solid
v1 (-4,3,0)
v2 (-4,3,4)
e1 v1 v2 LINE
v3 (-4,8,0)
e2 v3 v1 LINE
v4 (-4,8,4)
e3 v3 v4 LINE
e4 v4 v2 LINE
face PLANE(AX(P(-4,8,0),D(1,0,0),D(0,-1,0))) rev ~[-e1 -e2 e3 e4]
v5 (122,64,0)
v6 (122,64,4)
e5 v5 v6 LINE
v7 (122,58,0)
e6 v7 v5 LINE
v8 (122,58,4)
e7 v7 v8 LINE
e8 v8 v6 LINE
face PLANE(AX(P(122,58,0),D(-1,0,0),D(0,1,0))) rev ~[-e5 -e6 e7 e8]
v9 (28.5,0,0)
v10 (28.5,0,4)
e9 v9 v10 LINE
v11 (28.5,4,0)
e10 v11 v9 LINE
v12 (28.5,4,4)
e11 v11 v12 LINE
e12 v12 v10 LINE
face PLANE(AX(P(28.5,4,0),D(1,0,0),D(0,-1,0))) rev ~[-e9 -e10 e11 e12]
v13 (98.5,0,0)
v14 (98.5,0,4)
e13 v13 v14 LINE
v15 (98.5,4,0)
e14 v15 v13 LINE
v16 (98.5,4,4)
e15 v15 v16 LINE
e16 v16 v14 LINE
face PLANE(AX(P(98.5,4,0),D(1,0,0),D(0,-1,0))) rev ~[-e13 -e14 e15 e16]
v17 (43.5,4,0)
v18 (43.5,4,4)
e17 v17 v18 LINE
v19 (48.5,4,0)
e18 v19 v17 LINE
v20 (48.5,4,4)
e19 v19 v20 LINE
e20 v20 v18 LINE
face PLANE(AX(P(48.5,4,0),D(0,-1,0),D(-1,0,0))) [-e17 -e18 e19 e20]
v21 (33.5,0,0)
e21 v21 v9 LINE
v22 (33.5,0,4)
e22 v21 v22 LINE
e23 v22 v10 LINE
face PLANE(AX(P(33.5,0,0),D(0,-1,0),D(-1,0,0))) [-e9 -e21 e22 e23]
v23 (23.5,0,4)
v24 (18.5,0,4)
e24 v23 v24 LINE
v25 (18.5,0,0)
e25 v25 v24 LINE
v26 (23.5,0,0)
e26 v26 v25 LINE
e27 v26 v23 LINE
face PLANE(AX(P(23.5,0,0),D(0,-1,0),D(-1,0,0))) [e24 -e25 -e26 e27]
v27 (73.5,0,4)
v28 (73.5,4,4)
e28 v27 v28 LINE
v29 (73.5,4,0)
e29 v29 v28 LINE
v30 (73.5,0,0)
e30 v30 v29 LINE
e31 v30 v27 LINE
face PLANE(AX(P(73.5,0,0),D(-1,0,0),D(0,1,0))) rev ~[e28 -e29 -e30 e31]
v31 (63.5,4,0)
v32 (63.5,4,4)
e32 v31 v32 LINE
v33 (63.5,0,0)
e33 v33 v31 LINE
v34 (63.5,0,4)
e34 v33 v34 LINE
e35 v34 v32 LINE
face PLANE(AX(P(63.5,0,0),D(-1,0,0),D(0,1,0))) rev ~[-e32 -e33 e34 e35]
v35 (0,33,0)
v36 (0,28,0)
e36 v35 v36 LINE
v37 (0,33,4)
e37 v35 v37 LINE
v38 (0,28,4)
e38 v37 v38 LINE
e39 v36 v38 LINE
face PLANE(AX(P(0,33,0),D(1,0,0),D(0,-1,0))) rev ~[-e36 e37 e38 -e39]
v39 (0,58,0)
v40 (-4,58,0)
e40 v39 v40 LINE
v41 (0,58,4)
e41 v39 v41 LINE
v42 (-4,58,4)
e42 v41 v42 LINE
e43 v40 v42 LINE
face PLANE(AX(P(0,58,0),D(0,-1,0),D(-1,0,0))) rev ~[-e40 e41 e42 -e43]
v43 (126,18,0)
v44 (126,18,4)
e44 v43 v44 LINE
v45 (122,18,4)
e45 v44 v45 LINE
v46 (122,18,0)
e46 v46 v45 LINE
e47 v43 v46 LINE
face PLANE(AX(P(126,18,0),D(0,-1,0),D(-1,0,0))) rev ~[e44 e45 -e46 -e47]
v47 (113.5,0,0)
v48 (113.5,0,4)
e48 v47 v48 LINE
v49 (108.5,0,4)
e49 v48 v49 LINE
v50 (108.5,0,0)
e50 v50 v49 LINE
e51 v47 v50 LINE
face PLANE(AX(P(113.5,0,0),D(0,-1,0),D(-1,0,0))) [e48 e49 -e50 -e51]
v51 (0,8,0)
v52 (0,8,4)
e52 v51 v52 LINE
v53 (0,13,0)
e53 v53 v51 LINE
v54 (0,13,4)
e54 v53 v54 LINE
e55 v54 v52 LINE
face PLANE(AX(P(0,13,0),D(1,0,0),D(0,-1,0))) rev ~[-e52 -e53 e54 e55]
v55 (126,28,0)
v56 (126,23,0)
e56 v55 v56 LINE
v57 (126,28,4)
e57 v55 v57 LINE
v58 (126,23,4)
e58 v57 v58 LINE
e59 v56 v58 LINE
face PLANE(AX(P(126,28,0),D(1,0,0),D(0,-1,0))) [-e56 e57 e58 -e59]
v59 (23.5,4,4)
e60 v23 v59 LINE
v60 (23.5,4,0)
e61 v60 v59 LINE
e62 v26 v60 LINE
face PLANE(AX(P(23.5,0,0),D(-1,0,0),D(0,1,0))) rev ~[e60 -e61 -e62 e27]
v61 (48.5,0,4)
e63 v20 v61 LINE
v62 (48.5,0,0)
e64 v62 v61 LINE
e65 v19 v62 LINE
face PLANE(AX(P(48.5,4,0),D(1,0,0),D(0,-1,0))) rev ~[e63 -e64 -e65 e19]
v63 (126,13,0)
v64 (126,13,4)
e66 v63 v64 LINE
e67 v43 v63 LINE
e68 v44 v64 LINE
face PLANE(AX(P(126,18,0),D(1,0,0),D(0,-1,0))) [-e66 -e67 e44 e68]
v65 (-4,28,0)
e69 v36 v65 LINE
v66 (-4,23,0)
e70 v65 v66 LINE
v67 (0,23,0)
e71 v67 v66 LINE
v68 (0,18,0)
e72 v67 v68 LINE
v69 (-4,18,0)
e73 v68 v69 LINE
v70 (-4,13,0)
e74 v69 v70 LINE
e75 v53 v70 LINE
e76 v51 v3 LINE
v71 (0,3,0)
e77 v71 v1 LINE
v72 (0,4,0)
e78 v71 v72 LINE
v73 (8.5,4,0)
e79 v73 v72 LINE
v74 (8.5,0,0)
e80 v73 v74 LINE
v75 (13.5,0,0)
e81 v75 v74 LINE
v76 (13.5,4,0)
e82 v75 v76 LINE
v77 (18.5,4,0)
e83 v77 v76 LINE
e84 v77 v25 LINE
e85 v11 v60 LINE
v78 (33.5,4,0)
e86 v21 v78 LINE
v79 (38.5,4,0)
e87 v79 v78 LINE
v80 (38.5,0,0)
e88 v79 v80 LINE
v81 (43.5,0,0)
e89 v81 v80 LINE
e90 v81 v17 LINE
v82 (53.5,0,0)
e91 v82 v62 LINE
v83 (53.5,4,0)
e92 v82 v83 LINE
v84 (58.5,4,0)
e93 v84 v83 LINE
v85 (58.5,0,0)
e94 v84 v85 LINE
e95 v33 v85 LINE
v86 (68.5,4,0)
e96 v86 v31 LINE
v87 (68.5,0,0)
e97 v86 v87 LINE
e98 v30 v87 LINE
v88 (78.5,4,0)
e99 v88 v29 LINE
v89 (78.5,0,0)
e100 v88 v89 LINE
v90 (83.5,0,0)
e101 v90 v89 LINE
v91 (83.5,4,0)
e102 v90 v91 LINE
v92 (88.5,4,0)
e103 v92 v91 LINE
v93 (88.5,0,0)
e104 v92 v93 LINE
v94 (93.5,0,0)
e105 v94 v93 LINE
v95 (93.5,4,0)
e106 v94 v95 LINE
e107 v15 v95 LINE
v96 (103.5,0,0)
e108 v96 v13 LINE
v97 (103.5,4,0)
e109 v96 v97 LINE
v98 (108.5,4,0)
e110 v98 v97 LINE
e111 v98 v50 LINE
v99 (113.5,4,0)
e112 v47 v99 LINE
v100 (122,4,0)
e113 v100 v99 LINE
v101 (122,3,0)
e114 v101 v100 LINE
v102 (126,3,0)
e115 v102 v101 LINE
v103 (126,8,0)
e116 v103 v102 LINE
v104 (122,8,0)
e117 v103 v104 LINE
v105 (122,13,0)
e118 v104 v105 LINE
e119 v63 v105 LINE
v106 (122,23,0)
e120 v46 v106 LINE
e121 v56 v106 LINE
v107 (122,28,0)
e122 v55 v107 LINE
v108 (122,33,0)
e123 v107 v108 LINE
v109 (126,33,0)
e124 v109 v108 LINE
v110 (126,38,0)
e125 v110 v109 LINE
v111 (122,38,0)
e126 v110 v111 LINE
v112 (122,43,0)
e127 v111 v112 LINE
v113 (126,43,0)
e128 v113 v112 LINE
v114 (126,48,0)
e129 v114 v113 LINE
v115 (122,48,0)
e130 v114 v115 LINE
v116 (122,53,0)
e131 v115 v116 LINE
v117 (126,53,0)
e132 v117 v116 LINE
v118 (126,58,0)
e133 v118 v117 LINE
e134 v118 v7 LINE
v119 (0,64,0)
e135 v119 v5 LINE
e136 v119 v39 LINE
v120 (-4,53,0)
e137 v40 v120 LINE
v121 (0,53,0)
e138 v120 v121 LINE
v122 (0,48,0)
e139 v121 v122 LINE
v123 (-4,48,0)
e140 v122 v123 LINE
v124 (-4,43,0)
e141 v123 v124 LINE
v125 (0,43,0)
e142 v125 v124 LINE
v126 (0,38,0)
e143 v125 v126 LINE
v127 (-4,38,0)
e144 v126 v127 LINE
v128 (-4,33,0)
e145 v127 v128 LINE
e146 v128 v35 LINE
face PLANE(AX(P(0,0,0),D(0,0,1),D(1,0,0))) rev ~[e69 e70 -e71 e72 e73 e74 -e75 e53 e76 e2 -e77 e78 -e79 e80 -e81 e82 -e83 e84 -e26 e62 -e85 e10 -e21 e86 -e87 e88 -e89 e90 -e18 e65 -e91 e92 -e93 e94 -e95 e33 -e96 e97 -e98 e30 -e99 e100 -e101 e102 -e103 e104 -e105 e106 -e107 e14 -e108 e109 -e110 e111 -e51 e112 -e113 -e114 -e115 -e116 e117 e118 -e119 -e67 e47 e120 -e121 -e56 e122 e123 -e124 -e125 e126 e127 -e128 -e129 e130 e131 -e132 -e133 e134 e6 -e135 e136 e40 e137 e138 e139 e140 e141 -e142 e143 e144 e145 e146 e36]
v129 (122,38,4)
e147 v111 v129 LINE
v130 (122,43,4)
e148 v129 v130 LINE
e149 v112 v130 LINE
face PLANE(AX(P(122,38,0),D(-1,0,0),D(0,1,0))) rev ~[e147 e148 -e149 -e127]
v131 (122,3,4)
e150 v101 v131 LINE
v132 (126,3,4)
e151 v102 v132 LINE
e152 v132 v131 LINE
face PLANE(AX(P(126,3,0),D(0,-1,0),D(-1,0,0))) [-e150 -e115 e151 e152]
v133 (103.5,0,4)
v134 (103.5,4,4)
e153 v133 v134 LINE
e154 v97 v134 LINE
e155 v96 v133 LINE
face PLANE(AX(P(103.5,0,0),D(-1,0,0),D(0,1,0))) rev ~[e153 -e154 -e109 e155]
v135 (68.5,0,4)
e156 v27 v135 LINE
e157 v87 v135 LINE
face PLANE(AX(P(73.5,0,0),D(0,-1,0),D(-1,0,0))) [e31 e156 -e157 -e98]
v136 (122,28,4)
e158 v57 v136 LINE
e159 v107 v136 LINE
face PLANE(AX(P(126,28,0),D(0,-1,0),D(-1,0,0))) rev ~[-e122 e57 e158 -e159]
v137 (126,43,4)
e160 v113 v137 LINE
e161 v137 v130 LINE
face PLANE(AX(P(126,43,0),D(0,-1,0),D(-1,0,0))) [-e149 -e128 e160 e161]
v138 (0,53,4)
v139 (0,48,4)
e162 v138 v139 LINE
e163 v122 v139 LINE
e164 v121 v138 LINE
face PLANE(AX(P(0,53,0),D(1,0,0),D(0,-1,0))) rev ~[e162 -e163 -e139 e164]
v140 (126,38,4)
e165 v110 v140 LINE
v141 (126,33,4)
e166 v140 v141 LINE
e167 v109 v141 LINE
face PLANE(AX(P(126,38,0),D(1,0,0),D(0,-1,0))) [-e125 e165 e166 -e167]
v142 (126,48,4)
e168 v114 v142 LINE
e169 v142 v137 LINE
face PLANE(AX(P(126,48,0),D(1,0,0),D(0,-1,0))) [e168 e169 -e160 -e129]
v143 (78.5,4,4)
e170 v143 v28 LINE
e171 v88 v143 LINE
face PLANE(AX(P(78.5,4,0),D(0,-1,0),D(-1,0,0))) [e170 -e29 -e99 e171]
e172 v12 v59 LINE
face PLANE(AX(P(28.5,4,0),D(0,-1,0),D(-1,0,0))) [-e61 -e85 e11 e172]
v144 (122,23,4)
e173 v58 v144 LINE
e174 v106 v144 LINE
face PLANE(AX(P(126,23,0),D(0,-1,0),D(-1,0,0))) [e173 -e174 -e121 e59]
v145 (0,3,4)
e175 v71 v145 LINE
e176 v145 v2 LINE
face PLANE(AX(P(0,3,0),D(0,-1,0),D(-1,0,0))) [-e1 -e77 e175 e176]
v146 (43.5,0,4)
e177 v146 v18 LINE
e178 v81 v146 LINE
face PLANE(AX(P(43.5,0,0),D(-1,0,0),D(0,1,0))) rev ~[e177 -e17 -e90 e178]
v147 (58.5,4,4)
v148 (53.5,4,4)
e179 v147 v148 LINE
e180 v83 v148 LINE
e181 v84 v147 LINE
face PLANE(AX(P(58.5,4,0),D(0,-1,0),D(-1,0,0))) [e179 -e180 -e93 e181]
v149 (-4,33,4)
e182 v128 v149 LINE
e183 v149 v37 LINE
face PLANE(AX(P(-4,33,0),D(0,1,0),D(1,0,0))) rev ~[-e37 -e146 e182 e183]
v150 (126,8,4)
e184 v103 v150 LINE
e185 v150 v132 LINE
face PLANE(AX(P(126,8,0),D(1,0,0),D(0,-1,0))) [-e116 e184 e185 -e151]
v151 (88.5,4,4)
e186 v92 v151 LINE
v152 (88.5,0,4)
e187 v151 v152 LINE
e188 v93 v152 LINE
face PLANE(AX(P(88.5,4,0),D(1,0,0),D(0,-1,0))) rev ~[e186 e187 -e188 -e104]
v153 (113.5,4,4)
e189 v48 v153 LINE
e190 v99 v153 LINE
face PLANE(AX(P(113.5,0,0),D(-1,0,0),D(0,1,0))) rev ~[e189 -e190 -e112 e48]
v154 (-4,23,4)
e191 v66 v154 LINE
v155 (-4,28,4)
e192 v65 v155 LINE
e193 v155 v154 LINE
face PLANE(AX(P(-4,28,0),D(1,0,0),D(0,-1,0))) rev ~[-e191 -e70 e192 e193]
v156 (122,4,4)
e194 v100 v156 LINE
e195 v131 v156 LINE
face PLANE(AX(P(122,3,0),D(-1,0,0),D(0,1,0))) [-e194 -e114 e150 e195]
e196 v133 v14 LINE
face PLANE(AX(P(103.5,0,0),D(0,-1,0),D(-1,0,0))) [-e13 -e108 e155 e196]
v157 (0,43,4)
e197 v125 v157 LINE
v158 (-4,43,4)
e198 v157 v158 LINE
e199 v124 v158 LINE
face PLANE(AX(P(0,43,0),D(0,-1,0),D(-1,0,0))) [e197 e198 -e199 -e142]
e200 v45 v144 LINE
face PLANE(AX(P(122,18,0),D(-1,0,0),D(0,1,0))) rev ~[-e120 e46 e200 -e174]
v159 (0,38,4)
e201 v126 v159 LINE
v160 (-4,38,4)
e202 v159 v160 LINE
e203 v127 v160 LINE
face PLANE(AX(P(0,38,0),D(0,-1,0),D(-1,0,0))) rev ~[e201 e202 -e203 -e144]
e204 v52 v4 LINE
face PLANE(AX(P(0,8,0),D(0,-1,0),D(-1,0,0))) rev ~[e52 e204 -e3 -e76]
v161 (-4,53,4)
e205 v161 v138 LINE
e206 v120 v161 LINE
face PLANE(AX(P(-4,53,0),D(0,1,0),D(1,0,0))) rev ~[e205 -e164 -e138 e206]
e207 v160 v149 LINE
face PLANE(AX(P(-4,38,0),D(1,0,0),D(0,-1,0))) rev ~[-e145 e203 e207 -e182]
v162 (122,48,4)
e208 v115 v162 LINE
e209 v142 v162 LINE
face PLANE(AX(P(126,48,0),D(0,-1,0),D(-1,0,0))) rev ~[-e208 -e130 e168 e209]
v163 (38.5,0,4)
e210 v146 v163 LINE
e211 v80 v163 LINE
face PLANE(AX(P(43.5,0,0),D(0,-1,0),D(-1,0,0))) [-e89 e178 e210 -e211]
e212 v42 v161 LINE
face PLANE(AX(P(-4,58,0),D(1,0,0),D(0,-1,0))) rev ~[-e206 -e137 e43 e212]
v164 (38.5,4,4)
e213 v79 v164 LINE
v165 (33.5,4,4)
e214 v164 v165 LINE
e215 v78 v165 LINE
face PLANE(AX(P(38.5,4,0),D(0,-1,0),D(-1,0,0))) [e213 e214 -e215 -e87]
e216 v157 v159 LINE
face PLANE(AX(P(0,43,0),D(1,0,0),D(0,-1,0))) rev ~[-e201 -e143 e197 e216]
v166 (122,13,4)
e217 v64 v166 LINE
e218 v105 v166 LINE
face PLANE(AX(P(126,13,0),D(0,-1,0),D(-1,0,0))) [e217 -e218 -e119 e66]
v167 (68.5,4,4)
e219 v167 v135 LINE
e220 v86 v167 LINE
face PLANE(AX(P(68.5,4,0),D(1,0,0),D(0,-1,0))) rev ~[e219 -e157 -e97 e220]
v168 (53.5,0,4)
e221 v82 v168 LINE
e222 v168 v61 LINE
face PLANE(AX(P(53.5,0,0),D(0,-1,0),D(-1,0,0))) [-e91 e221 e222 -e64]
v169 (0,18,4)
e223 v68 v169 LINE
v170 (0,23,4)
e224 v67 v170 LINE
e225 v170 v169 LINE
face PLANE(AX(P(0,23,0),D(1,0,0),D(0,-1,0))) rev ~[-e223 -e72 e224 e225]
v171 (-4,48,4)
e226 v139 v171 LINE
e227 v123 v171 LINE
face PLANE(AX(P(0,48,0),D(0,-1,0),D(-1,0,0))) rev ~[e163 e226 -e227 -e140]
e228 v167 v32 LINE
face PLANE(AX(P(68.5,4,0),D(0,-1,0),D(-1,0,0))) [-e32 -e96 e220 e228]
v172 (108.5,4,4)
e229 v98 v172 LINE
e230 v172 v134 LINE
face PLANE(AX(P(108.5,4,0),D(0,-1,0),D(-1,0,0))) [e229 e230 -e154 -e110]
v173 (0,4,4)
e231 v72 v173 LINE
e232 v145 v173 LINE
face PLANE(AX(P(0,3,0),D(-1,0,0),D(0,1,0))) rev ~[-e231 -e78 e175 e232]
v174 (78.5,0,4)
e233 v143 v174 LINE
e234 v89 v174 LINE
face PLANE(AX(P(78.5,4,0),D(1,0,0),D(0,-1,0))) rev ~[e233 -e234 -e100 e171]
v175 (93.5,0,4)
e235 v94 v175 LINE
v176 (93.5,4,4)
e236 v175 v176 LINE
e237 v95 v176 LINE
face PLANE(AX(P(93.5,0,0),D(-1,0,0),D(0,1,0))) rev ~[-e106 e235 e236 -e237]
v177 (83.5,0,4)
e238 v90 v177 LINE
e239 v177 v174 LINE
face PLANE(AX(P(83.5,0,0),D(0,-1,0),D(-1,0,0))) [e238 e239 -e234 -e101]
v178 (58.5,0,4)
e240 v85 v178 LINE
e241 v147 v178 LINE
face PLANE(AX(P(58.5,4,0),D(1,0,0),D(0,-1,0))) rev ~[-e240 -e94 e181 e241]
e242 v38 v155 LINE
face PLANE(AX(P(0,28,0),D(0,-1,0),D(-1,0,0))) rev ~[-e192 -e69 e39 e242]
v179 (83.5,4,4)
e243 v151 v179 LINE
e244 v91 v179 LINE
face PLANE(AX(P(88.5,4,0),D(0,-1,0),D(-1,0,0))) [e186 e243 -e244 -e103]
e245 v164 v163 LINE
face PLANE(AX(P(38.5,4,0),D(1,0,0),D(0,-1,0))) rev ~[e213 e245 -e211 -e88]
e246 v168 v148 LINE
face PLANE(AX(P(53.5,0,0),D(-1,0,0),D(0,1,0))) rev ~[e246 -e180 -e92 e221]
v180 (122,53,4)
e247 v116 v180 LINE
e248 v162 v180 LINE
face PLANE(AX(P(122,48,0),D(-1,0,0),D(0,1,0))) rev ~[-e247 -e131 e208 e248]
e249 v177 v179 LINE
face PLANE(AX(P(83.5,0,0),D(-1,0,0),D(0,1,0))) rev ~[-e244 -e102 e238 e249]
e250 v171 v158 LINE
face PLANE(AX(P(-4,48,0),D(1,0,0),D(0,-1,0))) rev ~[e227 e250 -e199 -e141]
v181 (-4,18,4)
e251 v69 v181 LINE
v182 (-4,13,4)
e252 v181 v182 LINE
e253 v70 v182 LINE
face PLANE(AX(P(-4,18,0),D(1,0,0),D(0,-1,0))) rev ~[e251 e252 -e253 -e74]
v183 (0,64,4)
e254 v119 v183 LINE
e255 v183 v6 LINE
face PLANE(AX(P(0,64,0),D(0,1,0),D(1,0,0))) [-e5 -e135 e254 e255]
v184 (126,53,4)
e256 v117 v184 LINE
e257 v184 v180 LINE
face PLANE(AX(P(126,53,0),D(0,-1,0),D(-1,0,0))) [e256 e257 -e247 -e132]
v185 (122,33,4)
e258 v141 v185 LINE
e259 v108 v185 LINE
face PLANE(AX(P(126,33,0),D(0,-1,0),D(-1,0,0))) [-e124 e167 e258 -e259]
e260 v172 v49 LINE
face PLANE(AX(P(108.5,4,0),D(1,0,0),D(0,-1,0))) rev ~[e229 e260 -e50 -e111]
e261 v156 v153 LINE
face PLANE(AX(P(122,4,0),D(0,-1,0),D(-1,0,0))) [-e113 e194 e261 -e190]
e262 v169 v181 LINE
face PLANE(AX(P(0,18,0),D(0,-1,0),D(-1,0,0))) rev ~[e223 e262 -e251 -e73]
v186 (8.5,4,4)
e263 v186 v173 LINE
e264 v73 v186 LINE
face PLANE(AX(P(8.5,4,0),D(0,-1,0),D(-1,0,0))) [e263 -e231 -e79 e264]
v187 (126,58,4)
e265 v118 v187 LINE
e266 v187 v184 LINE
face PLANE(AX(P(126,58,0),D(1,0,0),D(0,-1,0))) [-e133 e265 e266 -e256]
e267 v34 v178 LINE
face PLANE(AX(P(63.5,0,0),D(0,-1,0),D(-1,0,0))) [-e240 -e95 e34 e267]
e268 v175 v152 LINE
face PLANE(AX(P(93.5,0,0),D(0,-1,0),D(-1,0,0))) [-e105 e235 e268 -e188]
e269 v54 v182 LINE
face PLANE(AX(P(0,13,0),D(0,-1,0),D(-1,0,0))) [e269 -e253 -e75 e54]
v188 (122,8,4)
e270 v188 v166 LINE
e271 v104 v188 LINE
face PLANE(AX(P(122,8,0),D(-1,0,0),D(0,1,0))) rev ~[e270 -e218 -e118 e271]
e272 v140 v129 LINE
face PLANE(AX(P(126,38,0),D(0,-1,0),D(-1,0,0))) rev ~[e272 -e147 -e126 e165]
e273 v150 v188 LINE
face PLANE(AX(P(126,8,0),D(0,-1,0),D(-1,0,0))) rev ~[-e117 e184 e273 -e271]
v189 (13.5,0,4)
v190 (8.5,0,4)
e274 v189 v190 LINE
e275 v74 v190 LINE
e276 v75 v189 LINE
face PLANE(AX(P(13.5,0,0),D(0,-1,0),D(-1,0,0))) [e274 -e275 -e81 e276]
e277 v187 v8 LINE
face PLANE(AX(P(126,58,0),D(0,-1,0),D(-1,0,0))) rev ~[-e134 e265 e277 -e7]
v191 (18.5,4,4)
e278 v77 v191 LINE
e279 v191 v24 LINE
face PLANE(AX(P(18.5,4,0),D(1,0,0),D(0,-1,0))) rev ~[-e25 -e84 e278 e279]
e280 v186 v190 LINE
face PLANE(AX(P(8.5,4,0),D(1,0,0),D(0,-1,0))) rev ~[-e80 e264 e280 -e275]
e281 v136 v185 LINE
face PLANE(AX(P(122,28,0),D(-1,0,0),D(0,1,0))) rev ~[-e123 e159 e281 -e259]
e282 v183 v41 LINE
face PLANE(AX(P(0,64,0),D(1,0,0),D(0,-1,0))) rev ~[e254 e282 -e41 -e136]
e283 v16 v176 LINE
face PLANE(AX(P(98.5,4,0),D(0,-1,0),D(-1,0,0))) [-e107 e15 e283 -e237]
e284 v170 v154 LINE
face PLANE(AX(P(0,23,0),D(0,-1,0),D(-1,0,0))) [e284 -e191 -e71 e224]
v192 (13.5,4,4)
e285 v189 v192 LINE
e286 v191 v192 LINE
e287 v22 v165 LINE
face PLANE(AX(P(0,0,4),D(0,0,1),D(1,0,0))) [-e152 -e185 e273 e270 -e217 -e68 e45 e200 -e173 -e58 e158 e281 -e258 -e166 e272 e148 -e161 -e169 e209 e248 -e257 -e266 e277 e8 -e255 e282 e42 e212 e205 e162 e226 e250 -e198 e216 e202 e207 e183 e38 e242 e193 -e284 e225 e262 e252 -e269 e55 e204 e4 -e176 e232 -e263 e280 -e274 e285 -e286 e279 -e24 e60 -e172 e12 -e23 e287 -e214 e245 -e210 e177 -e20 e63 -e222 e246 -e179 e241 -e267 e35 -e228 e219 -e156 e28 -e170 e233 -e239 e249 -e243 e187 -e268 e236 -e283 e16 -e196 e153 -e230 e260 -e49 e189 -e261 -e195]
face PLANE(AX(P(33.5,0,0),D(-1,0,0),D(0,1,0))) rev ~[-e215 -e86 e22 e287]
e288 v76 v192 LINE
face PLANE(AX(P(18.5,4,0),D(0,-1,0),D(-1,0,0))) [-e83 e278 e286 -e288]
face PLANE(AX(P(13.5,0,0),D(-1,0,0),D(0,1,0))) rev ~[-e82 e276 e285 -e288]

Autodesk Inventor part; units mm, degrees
ref_plane "YZ Plane" through (0, 0, 0) normal (1, 0, 0) x (0, 1, 0)
ref_plane "XZ Plane" through (0, 0, 0) normal (0, 1, 0) x (-1, 0, 0)
ref_plane "XY Plane" through (0, 0, 0) normal (0, 0, 1) x (1, 0, 0)
sketch "Sketch1" plane through (0, 0, 0) normal (0, 0, 1) x (1, 0, 0)
  line L0 (0, 3) -> (-4, 3)
  line L1 (0, 0) -> (0, 4)
  line L2 (8.5, 4) -> (0, 4)
  line L3 (8.5, 4) -> (8.5, 0)
  line L4 (13.5, 0) -> (8.5, 0)
  line L5 (13.5, 0) -> (13.5, 4)
  line L6 (18.5, 4) -> (13.5, 4)
  line L7 (18.5, 4) -> (18.5, 0)
  line L8 (23.5, 0) -> (18.5, 0)
  line L9 (23.5, 0) -> (23.5, 4)
  line L10 (28.5, 4) -> (23.5, 4)
  line L11 (28.5, 4) -> (28.5, 0)
  line L12 (33.5, 0) -> (28.5, 0)
  line L13 (33.5, 0) -> (33.5, 4)
  line L14 (38.5, 4) -> (33.5, 4)
  line L15 (38.5, 4) -> (38.5, 0)
  line L16 (43.5, 0) -> (38.5, 0)
  line L17 (43.5, 0) -> (43.5, 4)
  line L18 (48.5, 4) -> (43.5, 4)
  line L19 (48.5, 4) -> (48.5, 0)
  line L20 (53.5, 0) -> (48.5, 0)
  line L21 (53.5, 0) -> (53.5, 4)
  line L22 (58.5, 4) -> (53.5, 4)
  line L23 (58.5, 4) -> (58.5, 0)
  line L24 (63.5, 0) -> (58.5, 0)
  line L25 (63.5, 0) -> (63.5, 4)
  line L26 (68.5, 4) -> (63.5, 4)
  line L27 (68.5, 4) -> (68.5, 0)
  line L28 (73.5, 0) -> (68.5, 0)
  line L29 (73.5, 0) -> (73.5, 4)
  line L30 (78.5, 4) -> (73.5, 4)
  line L31 (83.5, 0) -> (78.5, 0)
  line L32 (78.5, 4) -> (78.5, 0)
  line L33 (83.5, 0) -> (83.5, 4)
  line L34 (88.5, 4) -> (83.5, 4)
  line L35 (88.5, 4) -> (88.5, 0)
  line L36 (93.5, 0) -> (88.5, 0)
  line L37 (93.5, 0) -> (93.5, 4)
  line L38 (98.5, 4) -> (93.5, 4)
  line L39 (98.5, 4) -> (98.5, 0)
  line L40 (103.5, 0) -> (98.5, 0)
  line L41 (103.5, 0) -> (103.5, 4)
  line L42 (108.5, 4) -> (103.5, 4)
  line L43 (108.5, 4) -> (108.5, 0)
  line L44 (113.5, 0) -> (108.5, 0)
  line L45 (113.5, 0) -> (113.5, 4)
  line L46 (122, 4) -> (113.5, 4)
  line L47 (126, 3) -> (122, 3)
  line L48 (122, 0) -> (122, 4)
  line L49 (126, 8) -> (126, 3)
  line L50 (126, 8) -> (122, 8)
  line L51 (122, 8) -> (122, 13)
  line L52 (126, 13) -> (122, 13)
  line L53 (126, 18) -> (126, 13)
  line L54 (126, 18) -> (122, 18)
  line L55 (122, 18) -> (122, 23)
  line L56 (126, 23) -> (122, 23)
  line L57 (126, 28) -> (126, 23)
  line L58 (126, 28) -> (122, 28)
  line L59 (122, 28) -> (122, 33)
  line L60 (126, 33) -> (122, 33)
  line L61 (126, 38) -> (126, 33)
  line L62 (126, 38) -> (122, 38)
  line L63 (122, 38) -> (122, 43)
  line L64 (126, 43) -> (122, 43)
  line L65 (126, 48) -> (126, 43)
  line L66 (126, 48) -> (122, 48)
  line L67 (122, 48) -> (122, 53)
  line L68 (126, 53) -> (122, 53)
  line L69 (126, 58) -> (126, 53)
  line L70 (126, 58) -> (122, 58)
  line L71 (122, 58) -> (122, 68)
  line L72 (-4, 8) -> (-4, 3)
  line L73 (0, 8) -> (-4, 8)
  line L74 (0, 13) -> (0, 8)
  line L75 (0, 13) -> (-4, 13)
  line L76 (-4, 18) -> (-4, 13)
  line L77 (0, 18) -> (-4, 18)
  line L78 (0, 23) -> (0, 18)
  line L79 (0, 23) -> (-4, 23)
  line L80 (-4, 28) -> (-4, 23)
  line L81 (0, 28) -> (-4, 28)
  line L82 (0, 33) -> (0, 28)
  line L83 (-4, 33) -> (0, 33)
  line L84 (-4, 38) -> (-4, 33)
  line L85 (0, 38) -> (-4, 38)
  line L86 (0, 43) -> (0, 38)
  line L87 (0, 43) -> (-4, 43)
  line L88 (-4, 48) -> (-4, 43)
  line L89 (0, 48) -> (-4, 48)
  line L90 (0, 53) -> (0, 48)
  line L91 (-4, 53) -> (0, 53)
  line L92 (-4, 58) -> (-4, 53)
  line L93 (0, 58) -> (-4, 58)
  line L94 (0, 68) -> (0, 58)
  line L95 (0, 64) -> (122, 64)
  point P0 (0, 0)
extrude "Extrusion1" add sketch "Sketch1" along normal blind 4
sketch "Sketch2" plane through (0, 0, 0) normal (0, 0, -1) x (-1, 0, 0)
  line L0 (-8.5, 4) -> (-8.5, 0) projected
  line L1 (0, 4) -> (-8.5, 4) projected
  line L2 (0, 3) -> (0, 4) projected
  line L3 (4, 3) -> (0, 3) projected
  line L4 (4, 8) -> (4, 3) projected
  line L5 (0, 8) -> (4, 8) projected
  line L6 (0, 13) -> (0, 8) projected
  line L7 (4, 13) -> (0, 13) projected
  line L8 (4, 18) -> (4, 13) projected
  line L9 (0, 18) -> (4, 18) projected
  line L10 (0, 23) -> (0, 18) projected
  line L11 (4, 23) -> (0, 23) projected
  line L12 (4, 28) -> (4, 23) projected
  line L13 (0, 28) -> (4, 28) projected
  line L14 (0, 33) -> (0, 28) projected
  line L15 (4, 33) -> (0, 33) projected
  line L16 (4, 38) -> (4, 33) projected
  line L17 (0, 38) -> (4, 38) projected
  line L18 (0, 43) -> (0, 38) projected
  line L19 (4, 43) -> (0, 43) projected
  line L20 (4, 48) -> (4, 43) projected
  line L21 (0, 48) -> (4, 48) projected
  line L22 (0, 53) -> (0, 48) projected
  line L23 (4, 53) -> (0, 53) projected
  line L24 (4, 58) -> (4, 53) projected
  line L25 (0, 58) -> (4, 58) projected
  line L26 (0, 64) -> (0, 58) projected
  line L27 (-122, 64) -> (0, 64) projected
  line L28 (-122, 58) -> (-122, 64) projected
  line L29 (-126, 58) -> (-122, 58) projected
  line L30 (-126, 53) -> (-126, 58) projected
  line L31 (-122, 53) -> (-126, 53) projected
  line L32 (-122, 48) -> (-122, 53) projected
  line L33 (-126, 48) -> (-122, 48) projected
  line L34 (-126, 43) -> (-126, 48) projected
  line L35 (-122, 43) -> (-126, 43) projected
  line L36 (-122, 38) -> (-122, 43) projected
  line L37 (-126, 38) -> (-122, 38) projected
  line L38 (-126, 33) -> (-126, 38) projected
  line L39 (-122, 33) -> (-126, 33) projected
  line L40 (-122, 28) -> (-122, 33) projected
  line L41 (-126, 28) -> (-122, 28) projected
  line L42 (-126, 23) -> (-126, 28) projected
  line L43 (-122, 23) -> (-126, 23) projected
  line L44 (-122, 18) -> (-122, 23) projected
  line L45 (-126, 18) -> (-122, 18) projected
  line L46 (-126, 13) -> (-126, 18) projected
  line L47 (-122, 13) -> (-126, 13) projected
  line L48 (-122, 8) -> (-122, 13) projected
  line L49 (-126, 8) -> (-122, 8) projected
  line L50 (-126, 3) -> (-126, 8) projected
  line L51 (-122, 3) -> (-126, 3) projected
  line L52 (-122, 4) -> (-122, 3) projected
  line L53 (-113.5, 4) -> (-122, 4) projected
  line L54 (-113.5, 0) -> (-113.5, 4) projected
  line L55 (-108.5, 0) -> (-113.5, 0) projected
  line L56 (-108.5, 4) -> (-108.5, 0) projected
  line L57 (-103.5, 4) -> (-108.5, 4) projected
  line L58 (-103.5, 0) -> (-103.5, 4) projected
  line L59 (-98.5, 0) -> (-103.5, 0) projected
  line L60 (-98.5, 4) -> (-98.5, 0) projected
  line L61 (-93.5, 4) -> (-98.5, 4) projected
  line L62 (-93.5, 0) -> (-93.5, 4) projected
  line L63 (-88.5, 0) -> (-93.5, 0) projected
  line L64 (-88.5, 4) -> (-88.5, 0) projected
  line L65 (-83.5, 4) -> (-88.5, 4) projected
  line L66 (-83.5, 0) -> (-83.5, 4) projected
  line L67 (-78.5, 0) -> (-83.5, 0) projected
  line L68 (-78.5, 4) -> (-78.5, 0) projected
  line L69 (-73.5, 4) -> (-78.5, 4) projected
  line L70 (-73.5, 0) -> (-73.5, 4) projected
  line L71 (-68.5, 0) -> (-73.5, 0) projected
  line L72 (-68.5, 4) -> (-68.5, 0) projected
  line L73 (-63.5, 4) -> (-68.5, 4) projected
  line L74 (-63.5, 0) -> (-63.5, 4) projected
  line L75 (-58.5, 0) -> (-63.5, 0) projected
  line L76 (-58.5, 4) -> (-58.5, 0) projected
  line L77 (-53.5, 4) -> (-58.5, 4) projected
  line L78 (-53.5, 0) -> (-53.5, 4) projected
  line L79 (-48.5, 0) -> (-53.5, 0) projected
  line L80 (-48.5, 4) -> (-48.5, 0) projected
  line L81 (-43.5, 4) -> (-48.5, 4) projected
  line L82 (-43.5, 0) -> (-43.5, 4) projected
  line L83 (-38.5, 0) -> (-43.5, 0) projected
  line L84 (-38.5, 4) -> (-38.5, 0) projected
  line L85 (-33.5, 4) -> (-38.5, 4) projected
  line L86 (-33.5, 0) -> (-33.5, 4) projected
  line L87 (-28.5, 0) -> (-33.5, 0) projected
  line L88 (-28.5, 4) -> (-28.5, 0) projected
  line L89 (-23.5, 4) -> (-28.5, 4) projected
  line L90 (-23.5, 0) -> (-23.5, 4) projected
  line L91 (-18.5, 0) -> (-23.5, 0) projected
  line L92 (-18.5, 4) -> (-18.5, 0) projected
  line L93 (-13.5, 4) -> (-18.5, 4) projected
  line L94 (-13.5, 0) -> (-13.5, 4) projected
  line L95 (-8.5, 0) -> (-13.5, 0) projected
  point P0 (0, 0)
properties part number "BackWand"
